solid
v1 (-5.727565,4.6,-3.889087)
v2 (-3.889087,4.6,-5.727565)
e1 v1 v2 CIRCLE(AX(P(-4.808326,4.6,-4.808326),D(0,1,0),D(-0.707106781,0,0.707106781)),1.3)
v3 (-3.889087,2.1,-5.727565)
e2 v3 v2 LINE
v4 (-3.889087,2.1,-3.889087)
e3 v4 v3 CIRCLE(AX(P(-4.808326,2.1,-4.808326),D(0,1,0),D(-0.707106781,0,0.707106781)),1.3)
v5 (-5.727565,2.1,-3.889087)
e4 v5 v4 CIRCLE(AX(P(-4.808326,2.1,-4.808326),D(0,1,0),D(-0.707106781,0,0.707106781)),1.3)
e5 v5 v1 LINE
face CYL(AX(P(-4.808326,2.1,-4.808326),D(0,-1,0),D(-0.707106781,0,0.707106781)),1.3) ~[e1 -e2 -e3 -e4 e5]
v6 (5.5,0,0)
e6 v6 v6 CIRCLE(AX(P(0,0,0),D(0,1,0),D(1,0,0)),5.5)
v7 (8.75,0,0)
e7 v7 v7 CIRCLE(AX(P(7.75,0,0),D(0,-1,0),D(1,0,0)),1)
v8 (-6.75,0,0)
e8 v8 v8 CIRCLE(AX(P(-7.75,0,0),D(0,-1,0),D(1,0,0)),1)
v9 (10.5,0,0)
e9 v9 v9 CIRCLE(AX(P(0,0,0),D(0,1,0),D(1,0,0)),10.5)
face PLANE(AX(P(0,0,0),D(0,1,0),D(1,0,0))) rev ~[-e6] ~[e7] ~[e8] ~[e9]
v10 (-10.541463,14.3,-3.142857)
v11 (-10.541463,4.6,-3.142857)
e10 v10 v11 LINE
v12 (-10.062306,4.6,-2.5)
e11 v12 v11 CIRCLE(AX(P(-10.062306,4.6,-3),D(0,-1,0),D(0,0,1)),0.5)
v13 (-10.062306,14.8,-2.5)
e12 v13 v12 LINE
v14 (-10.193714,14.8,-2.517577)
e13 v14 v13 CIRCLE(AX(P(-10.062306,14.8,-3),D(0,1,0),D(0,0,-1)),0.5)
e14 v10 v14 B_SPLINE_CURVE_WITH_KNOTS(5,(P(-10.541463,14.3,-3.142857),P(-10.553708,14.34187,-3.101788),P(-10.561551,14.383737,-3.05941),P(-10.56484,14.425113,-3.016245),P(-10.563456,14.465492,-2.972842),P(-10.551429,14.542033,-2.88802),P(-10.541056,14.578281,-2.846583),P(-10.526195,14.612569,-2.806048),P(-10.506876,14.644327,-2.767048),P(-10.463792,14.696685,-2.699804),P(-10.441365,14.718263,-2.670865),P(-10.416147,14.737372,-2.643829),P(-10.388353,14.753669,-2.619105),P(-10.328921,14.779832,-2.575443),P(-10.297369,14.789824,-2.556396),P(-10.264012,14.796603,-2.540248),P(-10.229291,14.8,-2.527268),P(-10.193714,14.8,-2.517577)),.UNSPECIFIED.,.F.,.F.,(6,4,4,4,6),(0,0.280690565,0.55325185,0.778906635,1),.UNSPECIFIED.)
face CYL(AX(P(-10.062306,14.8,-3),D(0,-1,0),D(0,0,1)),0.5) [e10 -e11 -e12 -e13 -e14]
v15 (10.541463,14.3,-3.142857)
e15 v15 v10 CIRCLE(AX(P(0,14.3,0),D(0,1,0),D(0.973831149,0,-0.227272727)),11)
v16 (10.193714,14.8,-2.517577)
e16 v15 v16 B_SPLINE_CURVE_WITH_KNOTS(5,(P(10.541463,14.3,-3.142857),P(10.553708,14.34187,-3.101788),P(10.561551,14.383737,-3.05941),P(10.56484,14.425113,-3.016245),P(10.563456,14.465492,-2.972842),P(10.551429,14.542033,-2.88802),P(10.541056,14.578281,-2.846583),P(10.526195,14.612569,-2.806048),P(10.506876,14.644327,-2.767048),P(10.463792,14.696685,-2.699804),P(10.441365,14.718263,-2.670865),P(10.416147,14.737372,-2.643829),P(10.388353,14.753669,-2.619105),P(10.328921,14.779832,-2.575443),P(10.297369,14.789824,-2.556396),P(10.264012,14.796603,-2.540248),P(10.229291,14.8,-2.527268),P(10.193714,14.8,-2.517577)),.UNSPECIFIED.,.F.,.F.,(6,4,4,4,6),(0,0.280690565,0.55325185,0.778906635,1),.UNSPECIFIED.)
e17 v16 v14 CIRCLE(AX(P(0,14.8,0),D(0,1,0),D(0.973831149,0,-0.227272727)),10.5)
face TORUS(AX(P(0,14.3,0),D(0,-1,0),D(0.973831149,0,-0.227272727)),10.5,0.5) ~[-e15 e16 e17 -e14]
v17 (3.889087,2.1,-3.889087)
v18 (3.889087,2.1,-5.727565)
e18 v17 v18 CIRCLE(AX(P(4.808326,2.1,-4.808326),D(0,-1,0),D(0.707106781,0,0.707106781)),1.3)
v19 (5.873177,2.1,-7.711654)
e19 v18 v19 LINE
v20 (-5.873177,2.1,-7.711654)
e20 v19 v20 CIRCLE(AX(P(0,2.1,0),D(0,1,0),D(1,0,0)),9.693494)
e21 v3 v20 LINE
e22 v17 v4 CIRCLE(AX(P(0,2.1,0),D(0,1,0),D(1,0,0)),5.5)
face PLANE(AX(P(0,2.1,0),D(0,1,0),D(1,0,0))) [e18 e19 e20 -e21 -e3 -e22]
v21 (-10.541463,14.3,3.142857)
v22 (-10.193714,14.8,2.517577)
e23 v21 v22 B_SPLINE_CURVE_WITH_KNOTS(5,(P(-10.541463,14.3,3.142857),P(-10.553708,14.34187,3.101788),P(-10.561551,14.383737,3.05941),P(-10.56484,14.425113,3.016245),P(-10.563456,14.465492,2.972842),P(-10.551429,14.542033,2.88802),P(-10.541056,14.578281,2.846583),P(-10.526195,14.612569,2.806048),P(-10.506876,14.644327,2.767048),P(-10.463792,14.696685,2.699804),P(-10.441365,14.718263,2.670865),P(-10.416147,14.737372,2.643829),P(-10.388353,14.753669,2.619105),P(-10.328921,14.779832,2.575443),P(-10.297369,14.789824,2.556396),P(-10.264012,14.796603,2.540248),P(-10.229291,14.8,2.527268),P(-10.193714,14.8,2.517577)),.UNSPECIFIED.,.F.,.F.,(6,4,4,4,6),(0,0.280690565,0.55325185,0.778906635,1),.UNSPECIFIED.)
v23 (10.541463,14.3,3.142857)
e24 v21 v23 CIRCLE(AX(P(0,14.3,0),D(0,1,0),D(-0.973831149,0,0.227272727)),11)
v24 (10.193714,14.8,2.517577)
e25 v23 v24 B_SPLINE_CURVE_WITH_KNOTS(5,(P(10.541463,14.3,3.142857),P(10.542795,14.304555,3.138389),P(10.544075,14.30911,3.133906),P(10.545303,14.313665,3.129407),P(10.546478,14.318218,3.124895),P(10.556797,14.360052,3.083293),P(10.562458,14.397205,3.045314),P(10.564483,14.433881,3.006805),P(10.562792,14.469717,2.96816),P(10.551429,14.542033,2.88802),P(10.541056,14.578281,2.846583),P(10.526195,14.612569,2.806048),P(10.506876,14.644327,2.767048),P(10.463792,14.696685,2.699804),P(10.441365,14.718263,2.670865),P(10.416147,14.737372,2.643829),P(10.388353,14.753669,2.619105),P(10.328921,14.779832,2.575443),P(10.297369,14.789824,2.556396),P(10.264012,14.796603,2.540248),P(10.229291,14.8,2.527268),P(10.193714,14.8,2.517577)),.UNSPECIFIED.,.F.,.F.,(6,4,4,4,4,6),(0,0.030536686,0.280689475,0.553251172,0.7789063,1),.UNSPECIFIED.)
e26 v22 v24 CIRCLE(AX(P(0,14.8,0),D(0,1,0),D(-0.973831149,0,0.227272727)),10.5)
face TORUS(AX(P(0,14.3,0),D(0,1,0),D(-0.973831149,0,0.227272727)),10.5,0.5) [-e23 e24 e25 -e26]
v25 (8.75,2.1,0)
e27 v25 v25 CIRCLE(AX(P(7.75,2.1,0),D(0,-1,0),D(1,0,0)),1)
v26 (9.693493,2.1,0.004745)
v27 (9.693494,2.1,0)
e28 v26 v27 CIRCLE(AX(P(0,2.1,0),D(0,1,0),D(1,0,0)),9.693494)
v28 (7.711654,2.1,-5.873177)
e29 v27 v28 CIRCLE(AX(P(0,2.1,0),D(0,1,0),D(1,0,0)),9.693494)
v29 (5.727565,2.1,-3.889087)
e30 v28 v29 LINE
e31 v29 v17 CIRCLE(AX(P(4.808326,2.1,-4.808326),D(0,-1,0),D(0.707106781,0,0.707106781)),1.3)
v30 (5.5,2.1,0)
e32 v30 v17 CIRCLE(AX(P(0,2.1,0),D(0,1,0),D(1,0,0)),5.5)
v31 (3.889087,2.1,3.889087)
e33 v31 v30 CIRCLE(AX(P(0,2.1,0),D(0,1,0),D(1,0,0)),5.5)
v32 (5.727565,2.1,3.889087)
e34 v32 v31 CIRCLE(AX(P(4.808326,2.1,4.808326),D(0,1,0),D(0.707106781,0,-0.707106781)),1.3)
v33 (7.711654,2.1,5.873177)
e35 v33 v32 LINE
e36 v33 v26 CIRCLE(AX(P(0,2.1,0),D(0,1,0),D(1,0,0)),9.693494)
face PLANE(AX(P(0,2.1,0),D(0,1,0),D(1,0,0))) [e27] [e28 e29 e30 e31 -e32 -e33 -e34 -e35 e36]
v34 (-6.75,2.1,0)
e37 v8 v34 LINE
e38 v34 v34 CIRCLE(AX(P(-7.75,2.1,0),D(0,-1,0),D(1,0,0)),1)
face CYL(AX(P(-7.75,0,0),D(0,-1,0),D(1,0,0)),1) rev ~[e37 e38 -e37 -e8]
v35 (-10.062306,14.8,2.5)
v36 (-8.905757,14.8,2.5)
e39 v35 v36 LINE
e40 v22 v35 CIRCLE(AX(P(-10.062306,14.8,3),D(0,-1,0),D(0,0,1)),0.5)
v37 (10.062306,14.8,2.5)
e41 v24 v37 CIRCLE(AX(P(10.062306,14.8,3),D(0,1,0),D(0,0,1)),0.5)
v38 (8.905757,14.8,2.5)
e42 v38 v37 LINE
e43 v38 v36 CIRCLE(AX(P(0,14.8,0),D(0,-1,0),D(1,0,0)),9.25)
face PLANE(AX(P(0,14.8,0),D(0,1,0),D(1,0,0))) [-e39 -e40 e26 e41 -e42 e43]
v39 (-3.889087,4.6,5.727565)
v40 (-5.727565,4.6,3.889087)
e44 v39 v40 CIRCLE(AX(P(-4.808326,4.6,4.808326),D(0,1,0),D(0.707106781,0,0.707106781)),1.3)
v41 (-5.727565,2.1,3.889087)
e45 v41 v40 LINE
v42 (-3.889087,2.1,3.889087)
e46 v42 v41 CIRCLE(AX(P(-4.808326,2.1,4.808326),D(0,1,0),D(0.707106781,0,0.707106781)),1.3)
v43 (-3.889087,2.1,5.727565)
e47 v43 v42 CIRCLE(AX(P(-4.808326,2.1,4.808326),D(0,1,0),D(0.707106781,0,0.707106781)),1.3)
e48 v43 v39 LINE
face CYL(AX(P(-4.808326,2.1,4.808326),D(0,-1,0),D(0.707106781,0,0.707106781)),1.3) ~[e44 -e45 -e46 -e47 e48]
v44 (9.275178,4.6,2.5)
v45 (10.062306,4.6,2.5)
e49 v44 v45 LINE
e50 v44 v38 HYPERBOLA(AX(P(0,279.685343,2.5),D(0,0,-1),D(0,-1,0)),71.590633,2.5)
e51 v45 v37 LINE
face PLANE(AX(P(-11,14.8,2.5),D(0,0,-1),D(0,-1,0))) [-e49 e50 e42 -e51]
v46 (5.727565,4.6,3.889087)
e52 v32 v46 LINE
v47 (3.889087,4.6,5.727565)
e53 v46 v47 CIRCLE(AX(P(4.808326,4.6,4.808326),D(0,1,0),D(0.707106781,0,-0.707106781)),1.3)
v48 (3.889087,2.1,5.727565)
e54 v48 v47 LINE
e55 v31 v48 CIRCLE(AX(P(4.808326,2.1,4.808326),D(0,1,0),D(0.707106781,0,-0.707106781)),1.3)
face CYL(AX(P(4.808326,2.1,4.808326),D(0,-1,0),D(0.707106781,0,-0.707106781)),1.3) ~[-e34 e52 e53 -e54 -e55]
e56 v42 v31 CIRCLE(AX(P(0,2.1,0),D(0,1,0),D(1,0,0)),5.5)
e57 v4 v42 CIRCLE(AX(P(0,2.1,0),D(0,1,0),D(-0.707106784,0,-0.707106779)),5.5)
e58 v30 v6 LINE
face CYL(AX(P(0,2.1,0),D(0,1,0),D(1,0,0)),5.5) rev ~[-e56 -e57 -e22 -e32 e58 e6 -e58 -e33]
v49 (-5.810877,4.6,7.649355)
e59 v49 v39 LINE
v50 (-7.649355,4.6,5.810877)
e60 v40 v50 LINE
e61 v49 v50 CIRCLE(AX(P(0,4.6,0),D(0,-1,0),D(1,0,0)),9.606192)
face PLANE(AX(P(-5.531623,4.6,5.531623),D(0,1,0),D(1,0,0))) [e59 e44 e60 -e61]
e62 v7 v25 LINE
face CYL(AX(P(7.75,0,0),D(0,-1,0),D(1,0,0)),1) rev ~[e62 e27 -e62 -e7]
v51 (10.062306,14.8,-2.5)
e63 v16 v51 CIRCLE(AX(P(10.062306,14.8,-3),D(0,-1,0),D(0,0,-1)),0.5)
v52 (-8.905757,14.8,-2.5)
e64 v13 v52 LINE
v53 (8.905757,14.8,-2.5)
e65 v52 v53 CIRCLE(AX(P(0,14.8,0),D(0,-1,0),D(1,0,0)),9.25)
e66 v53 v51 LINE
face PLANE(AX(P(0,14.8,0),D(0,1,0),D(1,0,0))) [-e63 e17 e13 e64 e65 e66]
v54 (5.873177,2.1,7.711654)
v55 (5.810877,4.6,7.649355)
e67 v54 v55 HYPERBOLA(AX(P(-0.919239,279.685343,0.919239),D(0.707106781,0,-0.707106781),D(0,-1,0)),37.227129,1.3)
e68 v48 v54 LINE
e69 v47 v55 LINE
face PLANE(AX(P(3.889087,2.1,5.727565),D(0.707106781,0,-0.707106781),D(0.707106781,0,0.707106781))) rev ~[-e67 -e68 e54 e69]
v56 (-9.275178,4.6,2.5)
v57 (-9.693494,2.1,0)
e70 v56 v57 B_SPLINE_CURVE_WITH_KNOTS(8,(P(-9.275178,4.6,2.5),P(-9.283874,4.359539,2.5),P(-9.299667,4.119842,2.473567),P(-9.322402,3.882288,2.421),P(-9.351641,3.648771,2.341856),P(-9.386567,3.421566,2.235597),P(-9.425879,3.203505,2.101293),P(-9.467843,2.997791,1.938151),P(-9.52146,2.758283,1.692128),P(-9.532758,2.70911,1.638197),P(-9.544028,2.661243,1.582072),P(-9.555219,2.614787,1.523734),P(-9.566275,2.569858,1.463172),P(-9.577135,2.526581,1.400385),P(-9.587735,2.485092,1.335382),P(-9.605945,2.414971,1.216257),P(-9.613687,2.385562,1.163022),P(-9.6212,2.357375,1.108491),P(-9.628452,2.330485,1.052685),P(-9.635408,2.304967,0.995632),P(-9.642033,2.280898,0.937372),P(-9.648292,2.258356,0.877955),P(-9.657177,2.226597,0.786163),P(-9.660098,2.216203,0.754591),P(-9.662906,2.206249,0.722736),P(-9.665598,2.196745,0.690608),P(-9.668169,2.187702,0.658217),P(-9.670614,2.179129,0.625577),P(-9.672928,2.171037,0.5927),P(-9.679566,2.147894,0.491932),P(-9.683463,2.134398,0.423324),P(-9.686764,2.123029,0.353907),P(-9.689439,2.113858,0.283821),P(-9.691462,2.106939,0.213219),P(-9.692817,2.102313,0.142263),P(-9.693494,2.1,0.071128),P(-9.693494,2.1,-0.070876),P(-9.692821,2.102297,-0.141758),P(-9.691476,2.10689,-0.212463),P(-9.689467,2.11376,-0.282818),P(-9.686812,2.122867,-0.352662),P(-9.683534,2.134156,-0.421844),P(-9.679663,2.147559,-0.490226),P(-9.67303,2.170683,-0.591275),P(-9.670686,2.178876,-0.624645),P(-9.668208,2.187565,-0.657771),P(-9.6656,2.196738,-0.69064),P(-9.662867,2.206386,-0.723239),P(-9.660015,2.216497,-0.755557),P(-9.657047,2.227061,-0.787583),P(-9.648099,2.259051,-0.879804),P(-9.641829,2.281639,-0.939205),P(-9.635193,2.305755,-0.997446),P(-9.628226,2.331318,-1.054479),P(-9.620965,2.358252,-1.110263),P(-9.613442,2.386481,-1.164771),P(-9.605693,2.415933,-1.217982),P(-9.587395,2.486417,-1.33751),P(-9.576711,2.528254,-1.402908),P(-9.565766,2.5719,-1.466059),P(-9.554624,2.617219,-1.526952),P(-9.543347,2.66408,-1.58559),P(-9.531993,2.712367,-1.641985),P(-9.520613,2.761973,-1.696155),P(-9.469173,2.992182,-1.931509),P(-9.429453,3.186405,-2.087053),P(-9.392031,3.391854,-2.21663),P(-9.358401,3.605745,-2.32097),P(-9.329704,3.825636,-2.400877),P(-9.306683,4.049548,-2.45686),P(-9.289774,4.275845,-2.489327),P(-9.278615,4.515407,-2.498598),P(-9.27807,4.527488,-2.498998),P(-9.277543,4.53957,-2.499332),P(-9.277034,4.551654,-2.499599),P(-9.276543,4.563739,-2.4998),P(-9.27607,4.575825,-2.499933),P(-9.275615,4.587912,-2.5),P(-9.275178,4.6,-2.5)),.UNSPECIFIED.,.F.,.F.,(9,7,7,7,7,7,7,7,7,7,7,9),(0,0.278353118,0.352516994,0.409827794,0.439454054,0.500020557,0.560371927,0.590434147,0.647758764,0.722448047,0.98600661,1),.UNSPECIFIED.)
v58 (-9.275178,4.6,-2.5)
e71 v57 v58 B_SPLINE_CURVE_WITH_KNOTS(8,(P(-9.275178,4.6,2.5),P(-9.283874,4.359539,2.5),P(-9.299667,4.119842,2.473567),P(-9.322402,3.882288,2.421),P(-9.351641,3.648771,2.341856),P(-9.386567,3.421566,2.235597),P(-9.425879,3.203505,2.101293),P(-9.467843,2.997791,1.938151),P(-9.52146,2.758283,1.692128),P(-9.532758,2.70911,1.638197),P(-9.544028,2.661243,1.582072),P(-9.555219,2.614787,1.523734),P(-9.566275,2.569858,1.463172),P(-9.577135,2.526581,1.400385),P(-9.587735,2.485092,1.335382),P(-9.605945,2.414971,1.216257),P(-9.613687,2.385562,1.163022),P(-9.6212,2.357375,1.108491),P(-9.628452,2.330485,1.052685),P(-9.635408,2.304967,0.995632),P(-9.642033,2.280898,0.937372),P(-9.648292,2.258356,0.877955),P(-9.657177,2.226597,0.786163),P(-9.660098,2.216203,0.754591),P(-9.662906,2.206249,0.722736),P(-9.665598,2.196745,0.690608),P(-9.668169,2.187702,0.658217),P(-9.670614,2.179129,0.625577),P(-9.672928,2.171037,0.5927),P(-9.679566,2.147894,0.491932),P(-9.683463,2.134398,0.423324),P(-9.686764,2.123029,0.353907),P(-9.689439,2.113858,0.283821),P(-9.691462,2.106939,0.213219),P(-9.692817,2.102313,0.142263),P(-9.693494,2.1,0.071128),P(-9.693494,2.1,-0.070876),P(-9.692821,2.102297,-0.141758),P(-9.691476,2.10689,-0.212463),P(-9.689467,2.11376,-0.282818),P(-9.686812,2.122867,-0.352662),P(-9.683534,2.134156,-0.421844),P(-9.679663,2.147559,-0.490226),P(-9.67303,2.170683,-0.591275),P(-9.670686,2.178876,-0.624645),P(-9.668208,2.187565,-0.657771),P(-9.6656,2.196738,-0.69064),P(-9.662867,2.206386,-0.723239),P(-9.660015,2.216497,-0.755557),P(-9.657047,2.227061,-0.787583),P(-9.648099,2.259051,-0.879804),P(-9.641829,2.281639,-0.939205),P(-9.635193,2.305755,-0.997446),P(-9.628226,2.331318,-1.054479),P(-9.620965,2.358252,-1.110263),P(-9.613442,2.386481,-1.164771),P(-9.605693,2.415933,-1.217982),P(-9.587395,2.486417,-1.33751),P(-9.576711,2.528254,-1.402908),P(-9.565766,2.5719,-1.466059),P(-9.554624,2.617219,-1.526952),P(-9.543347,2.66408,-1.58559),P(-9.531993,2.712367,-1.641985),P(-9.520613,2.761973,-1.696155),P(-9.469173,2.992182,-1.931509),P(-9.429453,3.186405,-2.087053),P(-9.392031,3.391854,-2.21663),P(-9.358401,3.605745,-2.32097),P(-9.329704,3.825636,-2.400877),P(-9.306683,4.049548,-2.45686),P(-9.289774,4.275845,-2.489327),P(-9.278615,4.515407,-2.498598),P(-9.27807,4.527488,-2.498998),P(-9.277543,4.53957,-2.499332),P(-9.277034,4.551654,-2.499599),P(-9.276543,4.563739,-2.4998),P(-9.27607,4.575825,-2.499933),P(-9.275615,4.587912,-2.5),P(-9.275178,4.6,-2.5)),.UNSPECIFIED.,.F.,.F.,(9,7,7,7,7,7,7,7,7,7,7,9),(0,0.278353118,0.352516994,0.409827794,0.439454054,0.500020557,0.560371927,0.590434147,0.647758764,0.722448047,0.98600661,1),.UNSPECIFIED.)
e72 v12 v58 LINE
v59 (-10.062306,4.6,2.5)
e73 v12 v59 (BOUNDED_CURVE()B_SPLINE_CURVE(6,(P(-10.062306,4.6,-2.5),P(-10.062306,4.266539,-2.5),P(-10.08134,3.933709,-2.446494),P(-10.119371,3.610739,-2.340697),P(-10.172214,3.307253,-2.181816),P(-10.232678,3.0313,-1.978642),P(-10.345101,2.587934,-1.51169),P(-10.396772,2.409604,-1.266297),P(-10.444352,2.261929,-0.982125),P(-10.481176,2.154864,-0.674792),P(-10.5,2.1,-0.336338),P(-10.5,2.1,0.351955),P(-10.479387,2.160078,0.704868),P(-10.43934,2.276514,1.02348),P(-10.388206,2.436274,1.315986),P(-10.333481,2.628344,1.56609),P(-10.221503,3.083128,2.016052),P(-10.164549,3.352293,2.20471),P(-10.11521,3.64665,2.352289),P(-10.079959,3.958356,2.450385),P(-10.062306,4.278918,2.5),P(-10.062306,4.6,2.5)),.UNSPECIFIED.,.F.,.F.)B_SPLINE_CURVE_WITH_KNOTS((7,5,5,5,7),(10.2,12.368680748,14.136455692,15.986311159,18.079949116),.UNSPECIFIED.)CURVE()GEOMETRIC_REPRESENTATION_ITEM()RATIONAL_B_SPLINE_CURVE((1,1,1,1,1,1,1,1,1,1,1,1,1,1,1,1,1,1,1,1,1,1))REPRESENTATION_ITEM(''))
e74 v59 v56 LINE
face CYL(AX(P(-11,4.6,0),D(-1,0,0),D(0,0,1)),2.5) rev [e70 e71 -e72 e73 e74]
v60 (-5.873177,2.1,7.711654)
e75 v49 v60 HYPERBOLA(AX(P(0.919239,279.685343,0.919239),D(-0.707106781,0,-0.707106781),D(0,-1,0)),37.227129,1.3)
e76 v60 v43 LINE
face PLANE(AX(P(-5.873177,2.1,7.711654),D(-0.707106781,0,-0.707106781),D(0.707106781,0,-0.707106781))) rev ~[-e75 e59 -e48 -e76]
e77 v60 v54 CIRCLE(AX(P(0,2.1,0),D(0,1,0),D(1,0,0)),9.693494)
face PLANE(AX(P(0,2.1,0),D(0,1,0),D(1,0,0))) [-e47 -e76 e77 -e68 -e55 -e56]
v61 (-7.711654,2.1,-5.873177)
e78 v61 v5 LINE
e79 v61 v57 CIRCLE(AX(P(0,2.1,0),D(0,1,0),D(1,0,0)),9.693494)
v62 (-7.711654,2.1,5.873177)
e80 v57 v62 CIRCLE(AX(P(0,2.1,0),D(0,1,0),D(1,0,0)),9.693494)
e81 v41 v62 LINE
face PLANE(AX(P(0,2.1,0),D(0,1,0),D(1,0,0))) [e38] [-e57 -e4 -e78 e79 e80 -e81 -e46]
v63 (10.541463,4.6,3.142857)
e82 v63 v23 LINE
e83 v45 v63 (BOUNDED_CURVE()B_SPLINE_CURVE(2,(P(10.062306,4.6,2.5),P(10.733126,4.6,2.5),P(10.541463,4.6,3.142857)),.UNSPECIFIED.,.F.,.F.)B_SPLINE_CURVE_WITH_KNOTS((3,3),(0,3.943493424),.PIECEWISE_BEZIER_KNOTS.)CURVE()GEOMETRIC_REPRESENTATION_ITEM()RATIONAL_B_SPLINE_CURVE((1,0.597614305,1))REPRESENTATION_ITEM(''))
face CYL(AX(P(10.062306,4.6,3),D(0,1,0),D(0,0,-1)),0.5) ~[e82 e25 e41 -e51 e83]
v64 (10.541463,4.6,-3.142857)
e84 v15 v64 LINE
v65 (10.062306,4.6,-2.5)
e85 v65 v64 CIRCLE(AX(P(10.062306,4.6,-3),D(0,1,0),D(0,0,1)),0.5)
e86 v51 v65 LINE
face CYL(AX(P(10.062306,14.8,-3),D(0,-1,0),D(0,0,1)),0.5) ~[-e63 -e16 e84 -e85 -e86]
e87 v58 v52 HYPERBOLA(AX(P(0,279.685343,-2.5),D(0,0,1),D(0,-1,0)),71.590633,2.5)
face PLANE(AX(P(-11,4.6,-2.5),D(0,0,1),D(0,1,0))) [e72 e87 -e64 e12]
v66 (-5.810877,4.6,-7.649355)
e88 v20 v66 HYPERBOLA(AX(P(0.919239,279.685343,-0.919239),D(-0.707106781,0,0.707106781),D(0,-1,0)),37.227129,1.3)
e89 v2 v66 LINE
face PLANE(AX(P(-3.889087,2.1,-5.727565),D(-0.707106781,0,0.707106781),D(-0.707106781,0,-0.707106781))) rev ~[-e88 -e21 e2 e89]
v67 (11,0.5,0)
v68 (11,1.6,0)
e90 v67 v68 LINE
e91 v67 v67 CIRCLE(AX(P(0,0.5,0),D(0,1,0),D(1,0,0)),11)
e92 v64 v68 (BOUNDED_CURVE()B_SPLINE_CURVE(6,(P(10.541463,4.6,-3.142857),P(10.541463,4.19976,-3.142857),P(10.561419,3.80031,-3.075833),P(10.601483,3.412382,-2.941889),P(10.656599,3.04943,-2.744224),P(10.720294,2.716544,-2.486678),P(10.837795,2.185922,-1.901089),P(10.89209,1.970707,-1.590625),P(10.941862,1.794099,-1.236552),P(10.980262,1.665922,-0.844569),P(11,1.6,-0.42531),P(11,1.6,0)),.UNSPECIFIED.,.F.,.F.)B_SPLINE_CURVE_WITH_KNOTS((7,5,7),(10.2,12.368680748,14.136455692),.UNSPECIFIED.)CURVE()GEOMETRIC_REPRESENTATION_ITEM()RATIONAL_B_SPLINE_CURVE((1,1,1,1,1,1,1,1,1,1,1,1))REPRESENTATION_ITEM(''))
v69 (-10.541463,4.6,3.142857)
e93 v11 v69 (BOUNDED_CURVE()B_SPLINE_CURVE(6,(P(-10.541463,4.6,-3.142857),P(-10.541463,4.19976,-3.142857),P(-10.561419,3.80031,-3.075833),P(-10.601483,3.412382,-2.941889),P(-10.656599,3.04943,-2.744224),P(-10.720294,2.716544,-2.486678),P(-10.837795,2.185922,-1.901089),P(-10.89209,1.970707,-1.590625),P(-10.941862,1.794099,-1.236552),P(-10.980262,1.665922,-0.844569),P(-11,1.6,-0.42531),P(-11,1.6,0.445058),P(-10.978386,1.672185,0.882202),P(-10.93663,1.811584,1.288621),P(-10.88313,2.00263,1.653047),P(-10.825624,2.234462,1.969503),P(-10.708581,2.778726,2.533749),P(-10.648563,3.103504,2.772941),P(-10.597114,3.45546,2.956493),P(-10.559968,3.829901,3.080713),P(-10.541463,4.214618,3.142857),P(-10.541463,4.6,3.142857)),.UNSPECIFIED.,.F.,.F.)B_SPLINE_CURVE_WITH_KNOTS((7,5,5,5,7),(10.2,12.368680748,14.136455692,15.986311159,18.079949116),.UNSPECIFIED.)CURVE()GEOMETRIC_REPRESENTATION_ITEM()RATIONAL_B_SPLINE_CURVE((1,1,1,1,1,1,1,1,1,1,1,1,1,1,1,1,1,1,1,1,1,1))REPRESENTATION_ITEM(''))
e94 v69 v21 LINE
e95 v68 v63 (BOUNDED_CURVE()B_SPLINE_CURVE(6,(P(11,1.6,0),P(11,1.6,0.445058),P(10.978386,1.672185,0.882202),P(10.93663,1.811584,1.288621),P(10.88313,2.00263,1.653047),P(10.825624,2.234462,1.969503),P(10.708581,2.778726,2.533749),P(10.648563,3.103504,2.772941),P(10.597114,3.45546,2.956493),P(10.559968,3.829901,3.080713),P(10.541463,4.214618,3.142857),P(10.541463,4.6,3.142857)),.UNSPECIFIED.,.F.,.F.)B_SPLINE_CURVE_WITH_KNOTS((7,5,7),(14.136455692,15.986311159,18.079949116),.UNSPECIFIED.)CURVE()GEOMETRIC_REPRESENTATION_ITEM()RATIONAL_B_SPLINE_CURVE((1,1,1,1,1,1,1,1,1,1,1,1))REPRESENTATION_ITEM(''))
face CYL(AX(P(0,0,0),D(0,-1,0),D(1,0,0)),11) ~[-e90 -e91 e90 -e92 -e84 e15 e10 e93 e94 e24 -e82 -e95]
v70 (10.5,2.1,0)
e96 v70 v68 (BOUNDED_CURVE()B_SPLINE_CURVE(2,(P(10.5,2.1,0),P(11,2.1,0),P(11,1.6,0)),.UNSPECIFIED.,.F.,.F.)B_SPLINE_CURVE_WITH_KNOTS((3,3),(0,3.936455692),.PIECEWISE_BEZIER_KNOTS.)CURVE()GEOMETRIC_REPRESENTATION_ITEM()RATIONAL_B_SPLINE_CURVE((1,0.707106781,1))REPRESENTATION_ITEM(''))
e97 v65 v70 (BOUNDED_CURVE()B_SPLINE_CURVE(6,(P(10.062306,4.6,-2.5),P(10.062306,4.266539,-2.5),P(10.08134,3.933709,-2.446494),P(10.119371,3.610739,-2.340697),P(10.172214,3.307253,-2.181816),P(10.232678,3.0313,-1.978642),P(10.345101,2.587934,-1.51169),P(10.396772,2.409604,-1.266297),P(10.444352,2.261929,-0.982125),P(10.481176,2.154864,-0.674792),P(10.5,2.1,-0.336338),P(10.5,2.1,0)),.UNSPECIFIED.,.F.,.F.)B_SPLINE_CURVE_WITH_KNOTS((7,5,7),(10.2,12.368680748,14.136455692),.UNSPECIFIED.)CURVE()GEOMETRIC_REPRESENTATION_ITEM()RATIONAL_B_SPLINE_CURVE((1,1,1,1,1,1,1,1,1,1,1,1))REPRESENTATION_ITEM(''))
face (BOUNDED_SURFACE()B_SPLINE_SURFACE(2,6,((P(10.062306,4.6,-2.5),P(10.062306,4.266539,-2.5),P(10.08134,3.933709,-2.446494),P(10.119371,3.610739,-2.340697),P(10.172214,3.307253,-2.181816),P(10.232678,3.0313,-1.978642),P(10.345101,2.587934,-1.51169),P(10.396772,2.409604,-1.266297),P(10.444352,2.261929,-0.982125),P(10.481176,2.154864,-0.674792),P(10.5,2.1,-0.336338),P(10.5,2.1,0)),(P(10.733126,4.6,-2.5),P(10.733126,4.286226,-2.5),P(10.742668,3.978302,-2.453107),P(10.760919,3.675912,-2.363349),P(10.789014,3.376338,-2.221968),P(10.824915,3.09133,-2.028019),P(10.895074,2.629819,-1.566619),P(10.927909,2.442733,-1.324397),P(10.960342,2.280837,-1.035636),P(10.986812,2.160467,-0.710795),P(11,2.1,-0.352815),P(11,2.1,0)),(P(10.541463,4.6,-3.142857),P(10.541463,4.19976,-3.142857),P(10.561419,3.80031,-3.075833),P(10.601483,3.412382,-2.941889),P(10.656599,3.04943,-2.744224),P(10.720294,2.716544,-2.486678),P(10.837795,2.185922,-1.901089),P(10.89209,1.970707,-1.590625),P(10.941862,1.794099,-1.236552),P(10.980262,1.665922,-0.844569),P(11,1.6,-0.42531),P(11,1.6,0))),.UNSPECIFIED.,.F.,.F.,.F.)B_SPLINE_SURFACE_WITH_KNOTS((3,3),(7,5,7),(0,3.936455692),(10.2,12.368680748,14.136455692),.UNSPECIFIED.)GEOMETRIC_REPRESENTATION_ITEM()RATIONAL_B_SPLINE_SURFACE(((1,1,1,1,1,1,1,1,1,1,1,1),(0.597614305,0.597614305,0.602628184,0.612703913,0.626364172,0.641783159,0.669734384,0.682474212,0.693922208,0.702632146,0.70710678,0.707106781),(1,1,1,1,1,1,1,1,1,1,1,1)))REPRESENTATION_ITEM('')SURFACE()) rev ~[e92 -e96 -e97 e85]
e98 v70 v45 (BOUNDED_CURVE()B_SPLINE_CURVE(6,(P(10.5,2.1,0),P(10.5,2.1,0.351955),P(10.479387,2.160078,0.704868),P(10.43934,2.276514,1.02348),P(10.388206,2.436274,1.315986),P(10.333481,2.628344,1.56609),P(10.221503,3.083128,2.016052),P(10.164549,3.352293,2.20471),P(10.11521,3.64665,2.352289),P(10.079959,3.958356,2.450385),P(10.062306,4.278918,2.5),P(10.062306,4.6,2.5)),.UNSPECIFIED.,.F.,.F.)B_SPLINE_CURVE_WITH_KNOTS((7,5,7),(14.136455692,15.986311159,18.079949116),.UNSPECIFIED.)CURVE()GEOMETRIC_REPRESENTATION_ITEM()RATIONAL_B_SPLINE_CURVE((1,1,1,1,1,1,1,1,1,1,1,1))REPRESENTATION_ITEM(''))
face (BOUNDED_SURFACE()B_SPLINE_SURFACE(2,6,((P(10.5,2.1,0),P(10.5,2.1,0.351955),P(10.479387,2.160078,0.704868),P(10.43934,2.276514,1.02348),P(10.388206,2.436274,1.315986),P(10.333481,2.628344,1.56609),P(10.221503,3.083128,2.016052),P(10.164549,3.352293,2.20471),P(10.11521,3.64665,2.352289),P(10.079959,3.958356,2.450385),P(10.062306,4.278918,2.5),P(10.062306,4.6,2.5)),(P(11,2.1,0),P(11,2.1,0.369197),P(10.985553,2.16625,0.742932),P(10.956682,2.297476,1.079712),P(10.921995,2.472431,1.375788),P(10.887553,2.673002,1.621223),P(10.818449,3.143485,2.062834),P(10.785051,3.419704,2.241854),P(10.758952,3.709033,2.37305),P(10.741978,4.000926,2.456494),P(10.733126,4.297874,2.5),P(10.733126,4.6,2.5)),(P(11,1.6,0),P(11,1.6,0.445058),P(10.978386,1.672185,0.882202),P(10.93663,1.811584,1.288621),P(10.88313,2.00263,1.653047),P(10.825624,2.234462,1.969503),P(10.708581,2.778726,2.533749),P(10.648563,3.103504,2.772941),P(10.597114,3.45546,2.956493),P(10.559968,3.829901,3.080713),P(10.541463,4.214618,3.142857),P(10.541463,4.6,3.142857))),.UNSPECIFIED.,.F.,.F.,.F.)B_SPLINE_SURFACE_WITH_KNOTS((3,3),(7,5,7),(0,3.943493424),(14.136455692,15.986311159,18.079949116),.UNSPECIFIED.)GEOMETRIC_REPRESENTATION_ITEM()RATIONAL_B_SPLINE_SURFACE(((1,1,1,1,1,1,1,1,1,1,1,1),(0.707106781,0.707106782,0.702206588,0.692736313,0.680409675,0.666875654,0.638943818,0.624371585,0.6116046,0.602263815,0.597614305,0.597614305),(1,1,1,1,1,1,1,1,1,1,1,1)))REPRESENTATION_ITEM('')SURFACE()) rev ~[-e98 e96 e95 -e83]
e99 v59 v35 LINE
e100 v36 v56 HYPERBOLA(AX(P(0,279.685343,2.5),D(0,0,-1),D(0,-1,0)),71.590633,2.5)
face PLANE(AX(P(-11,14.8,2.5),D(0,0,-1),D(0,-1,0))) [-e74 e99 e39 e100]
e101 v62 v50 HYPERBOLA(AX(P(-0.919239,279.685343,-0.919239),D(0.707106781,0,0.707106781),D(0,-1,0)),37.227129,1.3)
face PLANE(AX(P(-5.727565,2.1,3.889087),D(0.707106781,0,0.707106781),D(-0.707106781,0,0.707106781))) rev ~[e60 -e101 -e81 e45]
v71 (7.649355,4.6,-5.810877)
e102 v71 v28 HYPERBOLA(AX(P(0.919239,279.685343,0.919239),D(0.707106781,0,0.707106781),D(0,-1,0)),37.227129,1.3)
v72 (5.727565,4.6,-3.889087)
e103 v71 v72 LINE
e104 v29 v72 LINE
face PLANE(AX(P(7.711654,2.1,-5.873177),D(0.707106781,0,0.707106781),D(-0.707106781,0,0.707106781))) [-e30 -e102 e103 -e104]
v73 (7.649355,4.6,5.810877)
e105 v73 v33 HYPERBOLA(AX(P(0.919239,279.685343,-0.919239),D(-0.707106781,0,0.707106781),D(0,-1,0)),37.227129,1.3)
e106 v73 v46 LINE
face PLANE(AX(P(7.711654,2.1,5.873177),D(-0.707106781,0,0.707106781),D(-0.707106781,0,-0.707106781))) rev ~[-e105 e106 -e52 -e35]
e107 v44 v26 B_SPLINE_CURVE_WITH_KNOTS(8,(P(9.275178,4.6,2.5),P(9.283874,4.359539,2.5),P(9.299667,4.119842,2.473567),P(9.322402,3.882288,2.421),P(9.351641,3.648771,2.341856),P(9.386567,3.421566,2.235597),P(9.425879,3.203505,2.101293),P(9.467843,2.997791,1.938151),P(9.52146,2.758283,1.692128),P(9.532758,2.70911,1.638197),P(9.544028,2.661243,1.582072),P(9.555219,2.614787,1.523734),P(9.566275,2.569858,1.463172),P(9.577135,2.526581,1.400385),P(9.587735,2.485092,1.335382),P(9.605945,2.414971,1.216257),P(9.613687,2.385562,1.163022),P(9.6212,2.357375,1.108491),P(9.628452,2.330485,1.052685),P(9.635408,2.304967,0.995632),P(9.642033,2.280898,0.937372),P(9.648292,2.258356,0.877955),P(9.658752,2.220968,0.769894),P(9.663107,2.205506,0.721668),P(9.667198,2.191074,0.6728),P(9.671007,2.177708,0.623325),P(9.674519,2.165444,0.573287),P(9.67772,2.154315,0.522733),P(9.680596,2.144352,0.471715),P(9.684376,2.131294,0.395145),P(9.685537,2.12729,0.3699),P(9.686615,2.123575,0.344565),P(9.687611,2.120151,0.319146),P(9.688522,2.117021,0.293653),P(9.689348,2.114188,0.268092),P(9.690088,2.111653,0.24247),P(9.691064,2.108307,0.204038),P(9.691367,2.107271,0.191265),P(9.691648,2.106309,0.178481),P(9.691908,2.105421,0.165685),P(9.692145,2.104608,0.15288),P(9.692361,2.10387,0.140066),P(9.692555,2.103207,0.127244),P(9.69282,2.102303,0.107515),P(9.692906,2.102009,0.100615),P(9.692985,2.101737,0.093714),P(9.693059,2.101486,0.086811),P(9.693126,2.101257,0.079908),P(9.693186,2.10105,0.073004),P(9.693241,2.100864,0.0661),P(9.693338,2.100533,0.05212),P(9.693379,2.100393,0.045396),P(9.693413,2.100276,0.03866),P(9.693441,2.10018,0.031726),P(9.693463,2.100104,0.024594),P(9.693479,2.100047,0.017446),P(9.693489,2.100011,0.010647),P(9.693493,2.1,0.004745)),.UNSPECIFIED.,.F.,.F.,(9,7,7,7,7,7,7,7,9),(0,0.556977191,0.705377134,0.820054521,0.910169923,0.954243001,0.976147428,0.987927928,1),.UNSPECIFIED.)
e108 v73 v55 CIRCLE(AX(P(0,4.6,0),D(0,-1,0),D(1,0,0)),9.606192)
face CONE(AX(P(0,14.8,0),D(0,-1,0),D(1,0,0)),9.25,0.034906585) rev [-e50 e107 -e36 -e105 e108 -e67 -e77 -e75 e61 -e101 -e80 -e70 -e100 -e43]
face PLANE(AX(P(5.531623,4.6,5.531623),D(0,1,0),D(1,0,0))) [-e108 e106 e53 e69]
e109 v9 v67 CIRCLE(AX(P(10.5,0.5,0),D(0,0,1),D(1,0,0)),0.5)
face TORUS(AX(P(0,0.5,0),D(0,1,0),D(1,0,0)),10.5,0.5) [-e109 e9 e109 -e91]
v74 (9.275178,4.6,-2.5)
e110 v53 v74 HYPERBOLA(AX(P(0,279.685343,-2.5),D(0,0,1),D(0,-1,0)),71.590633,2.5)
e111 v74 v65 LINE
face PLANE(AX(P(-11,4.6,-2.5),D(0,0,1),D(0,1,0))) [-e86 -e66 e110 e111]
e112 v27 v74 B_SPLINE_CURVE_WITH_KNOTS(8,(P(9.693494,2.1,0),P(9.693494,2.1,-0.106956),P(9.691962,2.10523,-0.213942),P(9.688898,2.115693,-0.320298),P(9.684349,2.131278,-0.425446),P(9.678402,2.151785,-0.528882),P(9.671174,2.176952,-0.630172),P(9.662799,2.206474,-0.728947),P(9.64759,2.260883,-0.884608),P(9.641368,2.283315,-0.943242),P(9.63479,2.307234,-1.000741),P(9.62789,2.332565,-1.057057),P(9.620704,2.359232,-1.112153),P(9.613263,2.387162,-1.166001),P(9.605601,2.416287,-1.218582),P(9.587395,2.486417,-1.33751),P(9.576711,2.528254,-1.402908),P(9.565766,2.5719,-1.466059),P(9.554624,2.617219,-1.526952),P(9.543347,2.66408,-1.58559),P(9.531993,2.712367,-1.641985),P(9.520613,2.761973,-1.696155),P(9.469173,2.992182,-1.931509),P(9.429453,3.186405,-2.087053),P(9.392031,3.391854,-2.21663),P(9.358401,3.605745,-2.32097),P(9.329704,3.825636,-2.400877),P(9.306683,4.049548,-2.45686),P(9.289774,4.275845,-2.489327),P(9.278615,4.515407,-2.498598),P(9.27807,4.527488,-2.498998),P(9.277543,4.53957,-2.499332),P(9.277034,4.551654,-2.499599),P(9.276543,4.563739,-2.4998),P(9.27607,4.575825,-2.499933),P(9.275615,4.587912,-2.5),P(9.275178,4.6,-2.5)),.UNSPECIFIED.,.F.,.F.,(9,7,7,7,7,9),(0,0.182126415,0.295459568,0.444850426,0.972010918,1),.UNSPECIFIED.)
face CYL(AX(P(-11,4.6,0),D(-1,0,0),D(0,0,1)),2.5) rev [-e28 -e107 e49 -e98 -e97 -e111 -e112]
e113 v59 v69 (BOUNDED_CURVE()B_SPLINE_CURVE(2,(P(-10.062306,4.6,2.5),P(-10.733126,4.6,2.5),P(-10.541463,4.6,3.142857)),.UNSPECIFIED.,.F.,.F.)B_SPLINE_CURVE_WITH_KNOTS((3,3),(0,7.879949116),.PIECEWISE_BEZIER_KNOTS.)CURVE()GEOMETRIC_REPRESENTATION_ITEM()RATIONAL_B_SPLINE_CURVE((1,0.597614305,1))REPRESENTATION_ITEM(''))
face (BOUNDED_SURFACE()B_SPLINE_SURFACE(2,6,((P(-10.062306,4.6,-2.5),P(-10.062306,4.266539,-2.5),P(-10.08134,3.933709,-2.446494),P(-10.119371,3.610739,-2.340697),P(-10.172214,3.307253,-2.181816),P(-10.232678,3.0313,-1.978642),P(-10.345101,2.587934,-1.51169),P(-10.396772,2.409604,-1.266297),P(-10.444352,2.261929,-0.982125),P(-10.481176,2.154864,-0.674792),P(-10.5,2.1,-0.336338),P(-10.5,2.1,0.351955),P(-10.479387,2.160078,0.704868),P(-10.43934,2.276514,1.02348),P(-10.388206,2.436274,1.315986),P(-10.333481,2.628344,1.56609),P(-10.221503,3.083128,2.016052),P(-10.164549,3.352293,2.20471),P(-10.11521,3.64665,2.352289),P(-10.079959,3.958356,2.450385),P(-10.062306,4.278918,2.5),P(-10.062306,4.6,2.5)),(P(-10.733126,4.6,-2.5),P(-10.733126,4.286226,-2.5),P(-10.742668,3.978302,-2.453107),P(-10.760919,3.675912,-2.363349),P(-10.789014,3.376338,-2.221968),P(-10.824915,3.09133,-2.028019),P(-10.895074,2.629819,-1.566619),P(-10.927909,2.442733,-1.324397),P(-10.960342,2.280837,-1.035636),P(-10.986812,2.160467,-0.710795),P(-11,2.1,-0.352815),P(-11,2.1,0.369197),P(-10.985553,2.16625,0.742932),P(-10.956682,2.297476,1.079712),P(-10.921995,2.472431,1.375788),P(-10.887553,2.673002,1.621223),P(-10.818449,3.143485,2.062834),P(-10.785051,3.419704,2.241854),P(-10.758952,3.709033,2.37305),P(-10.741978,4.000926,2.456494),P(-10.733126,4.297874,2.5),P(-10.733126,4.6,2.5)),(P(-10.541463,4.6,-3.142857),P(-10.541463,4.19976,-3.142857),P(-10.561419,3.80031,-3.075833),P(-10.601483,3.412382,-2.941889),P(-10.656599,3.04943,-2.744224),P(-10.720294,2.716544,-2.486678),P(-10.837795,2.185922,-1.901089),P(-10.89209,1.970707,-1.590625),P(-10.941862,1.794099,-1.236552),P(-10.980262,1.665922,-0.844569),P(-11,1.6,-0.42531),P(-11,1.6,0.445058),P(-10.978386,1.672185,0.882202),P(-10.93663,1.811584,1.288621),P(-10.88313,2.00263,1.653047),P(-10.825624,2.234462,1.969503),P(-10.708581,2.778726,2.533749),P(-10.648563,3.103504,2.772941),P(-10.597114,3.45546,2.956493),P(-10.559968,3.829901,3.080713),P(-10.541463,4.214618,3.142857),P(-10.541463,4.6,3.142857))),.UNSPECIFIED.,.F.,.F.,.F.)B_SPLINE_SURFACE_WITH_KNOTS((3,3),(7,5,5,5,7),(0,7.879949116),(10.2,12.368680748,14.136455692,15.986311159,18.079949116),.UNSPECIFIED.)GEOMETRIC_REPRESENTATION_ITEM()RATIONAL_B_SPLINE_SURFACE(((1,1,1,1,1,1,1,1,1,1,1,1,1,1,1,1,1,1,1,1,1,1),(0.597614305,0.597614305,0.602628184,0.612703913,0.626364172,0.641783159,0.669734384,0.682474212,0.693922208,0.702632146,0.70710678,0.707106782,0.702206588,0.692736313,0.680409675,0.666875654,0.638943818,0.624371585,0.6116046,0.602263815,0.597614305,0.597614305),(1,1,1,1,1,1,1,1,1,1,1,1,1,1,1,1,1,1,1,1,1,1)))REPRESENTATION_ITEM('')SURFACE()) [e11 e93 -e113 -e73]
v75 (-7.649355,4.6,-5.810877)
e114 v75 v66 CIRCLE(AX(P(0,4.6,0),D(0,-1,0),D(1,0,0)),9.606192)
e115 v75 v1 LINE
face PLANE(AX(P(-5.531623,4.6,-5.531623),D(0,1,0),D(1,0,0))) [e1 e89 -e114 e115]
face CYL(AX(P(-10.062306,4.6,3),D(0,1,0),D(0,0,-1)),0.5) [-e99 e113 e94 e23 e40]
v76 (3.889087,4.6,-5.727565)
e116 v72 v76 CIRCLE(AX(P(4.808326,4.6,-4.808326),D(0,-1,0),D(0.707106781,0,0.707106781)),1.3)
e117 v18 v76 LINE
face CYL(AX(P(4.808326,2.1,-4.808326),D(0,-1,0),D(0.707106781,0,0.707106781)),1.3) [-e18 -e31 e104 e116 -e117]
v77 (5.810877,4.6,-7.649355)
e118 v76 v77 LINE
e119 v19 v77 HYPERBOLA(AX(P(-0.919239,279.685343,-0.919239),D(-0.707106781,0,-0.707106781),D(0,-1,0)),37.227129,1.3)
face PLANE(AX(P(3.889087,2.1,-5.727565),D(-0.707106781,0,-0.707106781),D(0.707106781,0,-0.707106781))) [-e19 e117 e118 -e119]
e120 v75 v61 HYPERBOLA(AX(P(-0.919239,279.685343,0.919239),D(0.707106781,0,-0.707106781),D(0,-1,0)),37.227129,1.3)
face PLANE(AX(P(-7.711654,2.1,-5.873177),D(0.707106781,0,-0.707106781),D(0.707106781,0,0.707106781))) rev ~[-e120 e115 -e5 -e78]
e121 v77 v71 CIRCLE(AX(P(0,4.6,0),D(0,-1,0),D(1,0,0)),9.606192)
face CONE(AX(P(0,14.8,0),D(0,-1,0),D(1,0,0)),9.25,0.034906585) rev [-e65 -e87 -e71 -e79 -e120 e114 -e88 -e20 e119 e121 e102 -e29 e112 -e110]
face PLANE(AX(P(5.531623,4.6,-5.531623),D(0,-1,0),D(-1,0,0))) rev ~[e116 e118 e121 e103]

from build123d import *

# Parameters (mm, degrees)
SKETCH1_R           = 11
BOSS_EXTRUDE1_DEPTH = 14.8
SKETCH2_R           = 9.25
CUT_EXTRUDE1_DEPTH  = 12.7
CUT_EXTRUDE1_TAPER  = -2
CUT_EXTRUDE2_REACH  = 4.1
SKETCH3_R           = 5.5
BOSS_EXTRUDE2_DEPTH = 2.5
CUT_EXTRUDE3_DEPTH  = 23
CUT_EXTRUDE4_REACH  = 16.8
SKETCH7_R           = 1
FILLET1_R           = 0.5


with BuildPart() as part:
    # Sketch1 → Boss-Extrude1 (new body)
    with BuildSketch(Plane(origin=(0, 0, 0), x_dir=(1, 0, 0), z_dir=(0, 1, 0))):
        Circle(SKETCH1_R)
    extrude(amount=BOSS_EXTRUDE1_DEPTH)

    # Sketch2 → Cut-Extrude1 (cut)
    with BuildSketch(Plane(origin=(0, 14.8, 0), x_dir=(1, 0, 0), z_dir=(0, 1, 0))):
        Circle(SKETCH2_R)
    extrude(amount=-CUT_EXTRUDE1_DEPTH, taper=CUT_EXTRUDE1_TAPER, mode=Mode.SUBTRACT)

    # Sketch3 → Cut-Extrude2 (cut, up to next)
    with BuildSketch(Plane(origin=(0, 2.1, 0), x_dir=(1, 0, 0), z_dir=(0, 1, 0)), mode=Mode.PRIVATE) as cut_extrude2_sk1:
        Circle(SKETCH3_R)
    cut_extrude2_tool1 = extrude(cut_extrude2_sk1.sketch, amount=-CUT_EXTRUDE2_REACH, mode=Mode.PRIVATE) & part.part
    add(cut_extrude2_tool1.solids().sort_by_distance((0, 2.1, 0))[0], mode=Mode.SUBTRACT)

    # Sketch4 → Boss-Extrude2 (add)
    with BuildSketch(Plane(origin=(0, 2.1, 0), x_dir=(1, 0, 0), z_dir=(0, 1, 0))):
        with BuildLine():
            Line((3.889087297, 5.727564928), (5.873176864, 7.711654495))
            ThreePointArc((5.873176864, 7.711654495), (6.85433518, 6.85433518), (7.711654495, 5.873176864))
            Line((7.711654495, 5.873176864), (5.727564928, 3.889087297))
            ThreePointArc((5.727564928, 3.889087297), (3.889087297, 3.889087297), (3.889087297, 5.727564928))
        make_face()
        with BuildLine():
            Line((3.889087297, -5.727564928), (5.873176864, -7.711654495))
            ThreePointArc((5.873176864, -7.711654495), (6.85433518, -6.85433518), (7.711654495, -5.873176864))
            Line((7.711654495, -5.873176864), (5.727564928, -3.889087297))
            ThreePointArc((5.727564928, -3.889087297), (3.889087297, -3.889087297), (3.889087297, -5.727564928))
        make_face()
        with BuildLine():
            Line((-5.727564928, -3.889087297), (-7.711654495, -5.873176864))
            ThreePointArc((-7.711654495, -5.873176864), (-6.85433518, -6.85433518), (-5.873176864, -7.711654495))
            Line((-5.873176864, -7.711654495), (-3.889087297, -5.727564928))
            ThreePointArc((-3.889087297, -5.727564928), (-3.889087297, -3.889087297), (-5.727564928, -3.889087297))
        make_face()
        with BuildLine():
            Line((-3.889087297, 5.727564928), (-5.873176864, 7.711654495))
            ThreePointArc((-5.873176864, 7.711654495), (-6.85433518, 6.85433518), (-7.711654495, 5.873176864))
            Line((-7.711654495, 5.873176864), (-5.727564928, 3.889087297))
            ThreePointArc((-5.727564928, 3.889087297), (-3.889087297, 3.889087297), (-3.889087297, 5.727564928))
        make_face()
    extrude(amount=BOSS_EXTRUDE2_DEPTH)

    # Sketch6 → Cut-Extrude3 (cut, through all)
    with BuildSketch(Plane.ZY.offset(11)):
        with BuildLine():
            Line((-2.5, 4.6), (-2.5, 14.8))
            Line((-2.5, 14.8), (2.5, 14.8))
            Line((2.5, 14.8), (2.5, 4.6))
            ThreePointArc((2.5, 4.6), (0, 2.1), (-2.5, 4.6))
        make_face()
    extrude(amount=-CUT_EXTRUDE3_DEPTH, mode=Mode.SUBTRACT)

    # Sketch7 → Cut-Extrude4 (cut, up to next)
    with BuildSketch(Plane.XZ, mode=Mode.PRIVATE) as cut_extrude4_sk1:
        with Locations((7.75, 0)):
            Circle(SKETCH7_R)
    cut_extrude4_tool1 = extrude(cut_extrude4_sk1.sketch, amount=-CUT_EXTRUDE4_REACH, mode=Mode.PRIVATE) & part.part
    add(cut_extrude4_tool1.solids().sort_by_distance((7.75, 0, 0))[0], mode=Mode.SUBTRACT)
    # Sketch7 → Cut-Extrude4 (cut, up to next)
    with BuildSketch(Plane.XZ, mode=Mode.PRIVATE) as cut_extrude4_sk2:
        with Locations((-7.75, 0)):
            Circle(SKETCH7_R)
    cut_extrude4_tool2 = extrude(cut_extrude4_sk2.sketch, amount=-CUT_EXTRUDE4_REACH, mode=Mode.PRIVATE) & part.part
    add(cut_extrude4_tool2.solids().sort_by_distance((-7.75, 0, 0))[0], mode=Mode.SUBTRACT)

    # Fillet1
    fillet1_edges = [part.edges().sort_by_distance(p)[0] for p in [
        (-11, 0, 0),
        (0, 14.8, -11),
        (0, 14.8, 11),
        (-10.712142643, 9.7, -2.5),
        (10.712142643, 9.7, -2.5),
        (-10.712142643, 9.7, 2.5),
        (10.712142643, 9.7, 2.5),
        (10.857017021, 2.832284274, 1.767818206),
        (-11, 2.1, 0),
    ]]
    fillet(fillet1_edges, radius=FILLET1_R)


solid = part.part
